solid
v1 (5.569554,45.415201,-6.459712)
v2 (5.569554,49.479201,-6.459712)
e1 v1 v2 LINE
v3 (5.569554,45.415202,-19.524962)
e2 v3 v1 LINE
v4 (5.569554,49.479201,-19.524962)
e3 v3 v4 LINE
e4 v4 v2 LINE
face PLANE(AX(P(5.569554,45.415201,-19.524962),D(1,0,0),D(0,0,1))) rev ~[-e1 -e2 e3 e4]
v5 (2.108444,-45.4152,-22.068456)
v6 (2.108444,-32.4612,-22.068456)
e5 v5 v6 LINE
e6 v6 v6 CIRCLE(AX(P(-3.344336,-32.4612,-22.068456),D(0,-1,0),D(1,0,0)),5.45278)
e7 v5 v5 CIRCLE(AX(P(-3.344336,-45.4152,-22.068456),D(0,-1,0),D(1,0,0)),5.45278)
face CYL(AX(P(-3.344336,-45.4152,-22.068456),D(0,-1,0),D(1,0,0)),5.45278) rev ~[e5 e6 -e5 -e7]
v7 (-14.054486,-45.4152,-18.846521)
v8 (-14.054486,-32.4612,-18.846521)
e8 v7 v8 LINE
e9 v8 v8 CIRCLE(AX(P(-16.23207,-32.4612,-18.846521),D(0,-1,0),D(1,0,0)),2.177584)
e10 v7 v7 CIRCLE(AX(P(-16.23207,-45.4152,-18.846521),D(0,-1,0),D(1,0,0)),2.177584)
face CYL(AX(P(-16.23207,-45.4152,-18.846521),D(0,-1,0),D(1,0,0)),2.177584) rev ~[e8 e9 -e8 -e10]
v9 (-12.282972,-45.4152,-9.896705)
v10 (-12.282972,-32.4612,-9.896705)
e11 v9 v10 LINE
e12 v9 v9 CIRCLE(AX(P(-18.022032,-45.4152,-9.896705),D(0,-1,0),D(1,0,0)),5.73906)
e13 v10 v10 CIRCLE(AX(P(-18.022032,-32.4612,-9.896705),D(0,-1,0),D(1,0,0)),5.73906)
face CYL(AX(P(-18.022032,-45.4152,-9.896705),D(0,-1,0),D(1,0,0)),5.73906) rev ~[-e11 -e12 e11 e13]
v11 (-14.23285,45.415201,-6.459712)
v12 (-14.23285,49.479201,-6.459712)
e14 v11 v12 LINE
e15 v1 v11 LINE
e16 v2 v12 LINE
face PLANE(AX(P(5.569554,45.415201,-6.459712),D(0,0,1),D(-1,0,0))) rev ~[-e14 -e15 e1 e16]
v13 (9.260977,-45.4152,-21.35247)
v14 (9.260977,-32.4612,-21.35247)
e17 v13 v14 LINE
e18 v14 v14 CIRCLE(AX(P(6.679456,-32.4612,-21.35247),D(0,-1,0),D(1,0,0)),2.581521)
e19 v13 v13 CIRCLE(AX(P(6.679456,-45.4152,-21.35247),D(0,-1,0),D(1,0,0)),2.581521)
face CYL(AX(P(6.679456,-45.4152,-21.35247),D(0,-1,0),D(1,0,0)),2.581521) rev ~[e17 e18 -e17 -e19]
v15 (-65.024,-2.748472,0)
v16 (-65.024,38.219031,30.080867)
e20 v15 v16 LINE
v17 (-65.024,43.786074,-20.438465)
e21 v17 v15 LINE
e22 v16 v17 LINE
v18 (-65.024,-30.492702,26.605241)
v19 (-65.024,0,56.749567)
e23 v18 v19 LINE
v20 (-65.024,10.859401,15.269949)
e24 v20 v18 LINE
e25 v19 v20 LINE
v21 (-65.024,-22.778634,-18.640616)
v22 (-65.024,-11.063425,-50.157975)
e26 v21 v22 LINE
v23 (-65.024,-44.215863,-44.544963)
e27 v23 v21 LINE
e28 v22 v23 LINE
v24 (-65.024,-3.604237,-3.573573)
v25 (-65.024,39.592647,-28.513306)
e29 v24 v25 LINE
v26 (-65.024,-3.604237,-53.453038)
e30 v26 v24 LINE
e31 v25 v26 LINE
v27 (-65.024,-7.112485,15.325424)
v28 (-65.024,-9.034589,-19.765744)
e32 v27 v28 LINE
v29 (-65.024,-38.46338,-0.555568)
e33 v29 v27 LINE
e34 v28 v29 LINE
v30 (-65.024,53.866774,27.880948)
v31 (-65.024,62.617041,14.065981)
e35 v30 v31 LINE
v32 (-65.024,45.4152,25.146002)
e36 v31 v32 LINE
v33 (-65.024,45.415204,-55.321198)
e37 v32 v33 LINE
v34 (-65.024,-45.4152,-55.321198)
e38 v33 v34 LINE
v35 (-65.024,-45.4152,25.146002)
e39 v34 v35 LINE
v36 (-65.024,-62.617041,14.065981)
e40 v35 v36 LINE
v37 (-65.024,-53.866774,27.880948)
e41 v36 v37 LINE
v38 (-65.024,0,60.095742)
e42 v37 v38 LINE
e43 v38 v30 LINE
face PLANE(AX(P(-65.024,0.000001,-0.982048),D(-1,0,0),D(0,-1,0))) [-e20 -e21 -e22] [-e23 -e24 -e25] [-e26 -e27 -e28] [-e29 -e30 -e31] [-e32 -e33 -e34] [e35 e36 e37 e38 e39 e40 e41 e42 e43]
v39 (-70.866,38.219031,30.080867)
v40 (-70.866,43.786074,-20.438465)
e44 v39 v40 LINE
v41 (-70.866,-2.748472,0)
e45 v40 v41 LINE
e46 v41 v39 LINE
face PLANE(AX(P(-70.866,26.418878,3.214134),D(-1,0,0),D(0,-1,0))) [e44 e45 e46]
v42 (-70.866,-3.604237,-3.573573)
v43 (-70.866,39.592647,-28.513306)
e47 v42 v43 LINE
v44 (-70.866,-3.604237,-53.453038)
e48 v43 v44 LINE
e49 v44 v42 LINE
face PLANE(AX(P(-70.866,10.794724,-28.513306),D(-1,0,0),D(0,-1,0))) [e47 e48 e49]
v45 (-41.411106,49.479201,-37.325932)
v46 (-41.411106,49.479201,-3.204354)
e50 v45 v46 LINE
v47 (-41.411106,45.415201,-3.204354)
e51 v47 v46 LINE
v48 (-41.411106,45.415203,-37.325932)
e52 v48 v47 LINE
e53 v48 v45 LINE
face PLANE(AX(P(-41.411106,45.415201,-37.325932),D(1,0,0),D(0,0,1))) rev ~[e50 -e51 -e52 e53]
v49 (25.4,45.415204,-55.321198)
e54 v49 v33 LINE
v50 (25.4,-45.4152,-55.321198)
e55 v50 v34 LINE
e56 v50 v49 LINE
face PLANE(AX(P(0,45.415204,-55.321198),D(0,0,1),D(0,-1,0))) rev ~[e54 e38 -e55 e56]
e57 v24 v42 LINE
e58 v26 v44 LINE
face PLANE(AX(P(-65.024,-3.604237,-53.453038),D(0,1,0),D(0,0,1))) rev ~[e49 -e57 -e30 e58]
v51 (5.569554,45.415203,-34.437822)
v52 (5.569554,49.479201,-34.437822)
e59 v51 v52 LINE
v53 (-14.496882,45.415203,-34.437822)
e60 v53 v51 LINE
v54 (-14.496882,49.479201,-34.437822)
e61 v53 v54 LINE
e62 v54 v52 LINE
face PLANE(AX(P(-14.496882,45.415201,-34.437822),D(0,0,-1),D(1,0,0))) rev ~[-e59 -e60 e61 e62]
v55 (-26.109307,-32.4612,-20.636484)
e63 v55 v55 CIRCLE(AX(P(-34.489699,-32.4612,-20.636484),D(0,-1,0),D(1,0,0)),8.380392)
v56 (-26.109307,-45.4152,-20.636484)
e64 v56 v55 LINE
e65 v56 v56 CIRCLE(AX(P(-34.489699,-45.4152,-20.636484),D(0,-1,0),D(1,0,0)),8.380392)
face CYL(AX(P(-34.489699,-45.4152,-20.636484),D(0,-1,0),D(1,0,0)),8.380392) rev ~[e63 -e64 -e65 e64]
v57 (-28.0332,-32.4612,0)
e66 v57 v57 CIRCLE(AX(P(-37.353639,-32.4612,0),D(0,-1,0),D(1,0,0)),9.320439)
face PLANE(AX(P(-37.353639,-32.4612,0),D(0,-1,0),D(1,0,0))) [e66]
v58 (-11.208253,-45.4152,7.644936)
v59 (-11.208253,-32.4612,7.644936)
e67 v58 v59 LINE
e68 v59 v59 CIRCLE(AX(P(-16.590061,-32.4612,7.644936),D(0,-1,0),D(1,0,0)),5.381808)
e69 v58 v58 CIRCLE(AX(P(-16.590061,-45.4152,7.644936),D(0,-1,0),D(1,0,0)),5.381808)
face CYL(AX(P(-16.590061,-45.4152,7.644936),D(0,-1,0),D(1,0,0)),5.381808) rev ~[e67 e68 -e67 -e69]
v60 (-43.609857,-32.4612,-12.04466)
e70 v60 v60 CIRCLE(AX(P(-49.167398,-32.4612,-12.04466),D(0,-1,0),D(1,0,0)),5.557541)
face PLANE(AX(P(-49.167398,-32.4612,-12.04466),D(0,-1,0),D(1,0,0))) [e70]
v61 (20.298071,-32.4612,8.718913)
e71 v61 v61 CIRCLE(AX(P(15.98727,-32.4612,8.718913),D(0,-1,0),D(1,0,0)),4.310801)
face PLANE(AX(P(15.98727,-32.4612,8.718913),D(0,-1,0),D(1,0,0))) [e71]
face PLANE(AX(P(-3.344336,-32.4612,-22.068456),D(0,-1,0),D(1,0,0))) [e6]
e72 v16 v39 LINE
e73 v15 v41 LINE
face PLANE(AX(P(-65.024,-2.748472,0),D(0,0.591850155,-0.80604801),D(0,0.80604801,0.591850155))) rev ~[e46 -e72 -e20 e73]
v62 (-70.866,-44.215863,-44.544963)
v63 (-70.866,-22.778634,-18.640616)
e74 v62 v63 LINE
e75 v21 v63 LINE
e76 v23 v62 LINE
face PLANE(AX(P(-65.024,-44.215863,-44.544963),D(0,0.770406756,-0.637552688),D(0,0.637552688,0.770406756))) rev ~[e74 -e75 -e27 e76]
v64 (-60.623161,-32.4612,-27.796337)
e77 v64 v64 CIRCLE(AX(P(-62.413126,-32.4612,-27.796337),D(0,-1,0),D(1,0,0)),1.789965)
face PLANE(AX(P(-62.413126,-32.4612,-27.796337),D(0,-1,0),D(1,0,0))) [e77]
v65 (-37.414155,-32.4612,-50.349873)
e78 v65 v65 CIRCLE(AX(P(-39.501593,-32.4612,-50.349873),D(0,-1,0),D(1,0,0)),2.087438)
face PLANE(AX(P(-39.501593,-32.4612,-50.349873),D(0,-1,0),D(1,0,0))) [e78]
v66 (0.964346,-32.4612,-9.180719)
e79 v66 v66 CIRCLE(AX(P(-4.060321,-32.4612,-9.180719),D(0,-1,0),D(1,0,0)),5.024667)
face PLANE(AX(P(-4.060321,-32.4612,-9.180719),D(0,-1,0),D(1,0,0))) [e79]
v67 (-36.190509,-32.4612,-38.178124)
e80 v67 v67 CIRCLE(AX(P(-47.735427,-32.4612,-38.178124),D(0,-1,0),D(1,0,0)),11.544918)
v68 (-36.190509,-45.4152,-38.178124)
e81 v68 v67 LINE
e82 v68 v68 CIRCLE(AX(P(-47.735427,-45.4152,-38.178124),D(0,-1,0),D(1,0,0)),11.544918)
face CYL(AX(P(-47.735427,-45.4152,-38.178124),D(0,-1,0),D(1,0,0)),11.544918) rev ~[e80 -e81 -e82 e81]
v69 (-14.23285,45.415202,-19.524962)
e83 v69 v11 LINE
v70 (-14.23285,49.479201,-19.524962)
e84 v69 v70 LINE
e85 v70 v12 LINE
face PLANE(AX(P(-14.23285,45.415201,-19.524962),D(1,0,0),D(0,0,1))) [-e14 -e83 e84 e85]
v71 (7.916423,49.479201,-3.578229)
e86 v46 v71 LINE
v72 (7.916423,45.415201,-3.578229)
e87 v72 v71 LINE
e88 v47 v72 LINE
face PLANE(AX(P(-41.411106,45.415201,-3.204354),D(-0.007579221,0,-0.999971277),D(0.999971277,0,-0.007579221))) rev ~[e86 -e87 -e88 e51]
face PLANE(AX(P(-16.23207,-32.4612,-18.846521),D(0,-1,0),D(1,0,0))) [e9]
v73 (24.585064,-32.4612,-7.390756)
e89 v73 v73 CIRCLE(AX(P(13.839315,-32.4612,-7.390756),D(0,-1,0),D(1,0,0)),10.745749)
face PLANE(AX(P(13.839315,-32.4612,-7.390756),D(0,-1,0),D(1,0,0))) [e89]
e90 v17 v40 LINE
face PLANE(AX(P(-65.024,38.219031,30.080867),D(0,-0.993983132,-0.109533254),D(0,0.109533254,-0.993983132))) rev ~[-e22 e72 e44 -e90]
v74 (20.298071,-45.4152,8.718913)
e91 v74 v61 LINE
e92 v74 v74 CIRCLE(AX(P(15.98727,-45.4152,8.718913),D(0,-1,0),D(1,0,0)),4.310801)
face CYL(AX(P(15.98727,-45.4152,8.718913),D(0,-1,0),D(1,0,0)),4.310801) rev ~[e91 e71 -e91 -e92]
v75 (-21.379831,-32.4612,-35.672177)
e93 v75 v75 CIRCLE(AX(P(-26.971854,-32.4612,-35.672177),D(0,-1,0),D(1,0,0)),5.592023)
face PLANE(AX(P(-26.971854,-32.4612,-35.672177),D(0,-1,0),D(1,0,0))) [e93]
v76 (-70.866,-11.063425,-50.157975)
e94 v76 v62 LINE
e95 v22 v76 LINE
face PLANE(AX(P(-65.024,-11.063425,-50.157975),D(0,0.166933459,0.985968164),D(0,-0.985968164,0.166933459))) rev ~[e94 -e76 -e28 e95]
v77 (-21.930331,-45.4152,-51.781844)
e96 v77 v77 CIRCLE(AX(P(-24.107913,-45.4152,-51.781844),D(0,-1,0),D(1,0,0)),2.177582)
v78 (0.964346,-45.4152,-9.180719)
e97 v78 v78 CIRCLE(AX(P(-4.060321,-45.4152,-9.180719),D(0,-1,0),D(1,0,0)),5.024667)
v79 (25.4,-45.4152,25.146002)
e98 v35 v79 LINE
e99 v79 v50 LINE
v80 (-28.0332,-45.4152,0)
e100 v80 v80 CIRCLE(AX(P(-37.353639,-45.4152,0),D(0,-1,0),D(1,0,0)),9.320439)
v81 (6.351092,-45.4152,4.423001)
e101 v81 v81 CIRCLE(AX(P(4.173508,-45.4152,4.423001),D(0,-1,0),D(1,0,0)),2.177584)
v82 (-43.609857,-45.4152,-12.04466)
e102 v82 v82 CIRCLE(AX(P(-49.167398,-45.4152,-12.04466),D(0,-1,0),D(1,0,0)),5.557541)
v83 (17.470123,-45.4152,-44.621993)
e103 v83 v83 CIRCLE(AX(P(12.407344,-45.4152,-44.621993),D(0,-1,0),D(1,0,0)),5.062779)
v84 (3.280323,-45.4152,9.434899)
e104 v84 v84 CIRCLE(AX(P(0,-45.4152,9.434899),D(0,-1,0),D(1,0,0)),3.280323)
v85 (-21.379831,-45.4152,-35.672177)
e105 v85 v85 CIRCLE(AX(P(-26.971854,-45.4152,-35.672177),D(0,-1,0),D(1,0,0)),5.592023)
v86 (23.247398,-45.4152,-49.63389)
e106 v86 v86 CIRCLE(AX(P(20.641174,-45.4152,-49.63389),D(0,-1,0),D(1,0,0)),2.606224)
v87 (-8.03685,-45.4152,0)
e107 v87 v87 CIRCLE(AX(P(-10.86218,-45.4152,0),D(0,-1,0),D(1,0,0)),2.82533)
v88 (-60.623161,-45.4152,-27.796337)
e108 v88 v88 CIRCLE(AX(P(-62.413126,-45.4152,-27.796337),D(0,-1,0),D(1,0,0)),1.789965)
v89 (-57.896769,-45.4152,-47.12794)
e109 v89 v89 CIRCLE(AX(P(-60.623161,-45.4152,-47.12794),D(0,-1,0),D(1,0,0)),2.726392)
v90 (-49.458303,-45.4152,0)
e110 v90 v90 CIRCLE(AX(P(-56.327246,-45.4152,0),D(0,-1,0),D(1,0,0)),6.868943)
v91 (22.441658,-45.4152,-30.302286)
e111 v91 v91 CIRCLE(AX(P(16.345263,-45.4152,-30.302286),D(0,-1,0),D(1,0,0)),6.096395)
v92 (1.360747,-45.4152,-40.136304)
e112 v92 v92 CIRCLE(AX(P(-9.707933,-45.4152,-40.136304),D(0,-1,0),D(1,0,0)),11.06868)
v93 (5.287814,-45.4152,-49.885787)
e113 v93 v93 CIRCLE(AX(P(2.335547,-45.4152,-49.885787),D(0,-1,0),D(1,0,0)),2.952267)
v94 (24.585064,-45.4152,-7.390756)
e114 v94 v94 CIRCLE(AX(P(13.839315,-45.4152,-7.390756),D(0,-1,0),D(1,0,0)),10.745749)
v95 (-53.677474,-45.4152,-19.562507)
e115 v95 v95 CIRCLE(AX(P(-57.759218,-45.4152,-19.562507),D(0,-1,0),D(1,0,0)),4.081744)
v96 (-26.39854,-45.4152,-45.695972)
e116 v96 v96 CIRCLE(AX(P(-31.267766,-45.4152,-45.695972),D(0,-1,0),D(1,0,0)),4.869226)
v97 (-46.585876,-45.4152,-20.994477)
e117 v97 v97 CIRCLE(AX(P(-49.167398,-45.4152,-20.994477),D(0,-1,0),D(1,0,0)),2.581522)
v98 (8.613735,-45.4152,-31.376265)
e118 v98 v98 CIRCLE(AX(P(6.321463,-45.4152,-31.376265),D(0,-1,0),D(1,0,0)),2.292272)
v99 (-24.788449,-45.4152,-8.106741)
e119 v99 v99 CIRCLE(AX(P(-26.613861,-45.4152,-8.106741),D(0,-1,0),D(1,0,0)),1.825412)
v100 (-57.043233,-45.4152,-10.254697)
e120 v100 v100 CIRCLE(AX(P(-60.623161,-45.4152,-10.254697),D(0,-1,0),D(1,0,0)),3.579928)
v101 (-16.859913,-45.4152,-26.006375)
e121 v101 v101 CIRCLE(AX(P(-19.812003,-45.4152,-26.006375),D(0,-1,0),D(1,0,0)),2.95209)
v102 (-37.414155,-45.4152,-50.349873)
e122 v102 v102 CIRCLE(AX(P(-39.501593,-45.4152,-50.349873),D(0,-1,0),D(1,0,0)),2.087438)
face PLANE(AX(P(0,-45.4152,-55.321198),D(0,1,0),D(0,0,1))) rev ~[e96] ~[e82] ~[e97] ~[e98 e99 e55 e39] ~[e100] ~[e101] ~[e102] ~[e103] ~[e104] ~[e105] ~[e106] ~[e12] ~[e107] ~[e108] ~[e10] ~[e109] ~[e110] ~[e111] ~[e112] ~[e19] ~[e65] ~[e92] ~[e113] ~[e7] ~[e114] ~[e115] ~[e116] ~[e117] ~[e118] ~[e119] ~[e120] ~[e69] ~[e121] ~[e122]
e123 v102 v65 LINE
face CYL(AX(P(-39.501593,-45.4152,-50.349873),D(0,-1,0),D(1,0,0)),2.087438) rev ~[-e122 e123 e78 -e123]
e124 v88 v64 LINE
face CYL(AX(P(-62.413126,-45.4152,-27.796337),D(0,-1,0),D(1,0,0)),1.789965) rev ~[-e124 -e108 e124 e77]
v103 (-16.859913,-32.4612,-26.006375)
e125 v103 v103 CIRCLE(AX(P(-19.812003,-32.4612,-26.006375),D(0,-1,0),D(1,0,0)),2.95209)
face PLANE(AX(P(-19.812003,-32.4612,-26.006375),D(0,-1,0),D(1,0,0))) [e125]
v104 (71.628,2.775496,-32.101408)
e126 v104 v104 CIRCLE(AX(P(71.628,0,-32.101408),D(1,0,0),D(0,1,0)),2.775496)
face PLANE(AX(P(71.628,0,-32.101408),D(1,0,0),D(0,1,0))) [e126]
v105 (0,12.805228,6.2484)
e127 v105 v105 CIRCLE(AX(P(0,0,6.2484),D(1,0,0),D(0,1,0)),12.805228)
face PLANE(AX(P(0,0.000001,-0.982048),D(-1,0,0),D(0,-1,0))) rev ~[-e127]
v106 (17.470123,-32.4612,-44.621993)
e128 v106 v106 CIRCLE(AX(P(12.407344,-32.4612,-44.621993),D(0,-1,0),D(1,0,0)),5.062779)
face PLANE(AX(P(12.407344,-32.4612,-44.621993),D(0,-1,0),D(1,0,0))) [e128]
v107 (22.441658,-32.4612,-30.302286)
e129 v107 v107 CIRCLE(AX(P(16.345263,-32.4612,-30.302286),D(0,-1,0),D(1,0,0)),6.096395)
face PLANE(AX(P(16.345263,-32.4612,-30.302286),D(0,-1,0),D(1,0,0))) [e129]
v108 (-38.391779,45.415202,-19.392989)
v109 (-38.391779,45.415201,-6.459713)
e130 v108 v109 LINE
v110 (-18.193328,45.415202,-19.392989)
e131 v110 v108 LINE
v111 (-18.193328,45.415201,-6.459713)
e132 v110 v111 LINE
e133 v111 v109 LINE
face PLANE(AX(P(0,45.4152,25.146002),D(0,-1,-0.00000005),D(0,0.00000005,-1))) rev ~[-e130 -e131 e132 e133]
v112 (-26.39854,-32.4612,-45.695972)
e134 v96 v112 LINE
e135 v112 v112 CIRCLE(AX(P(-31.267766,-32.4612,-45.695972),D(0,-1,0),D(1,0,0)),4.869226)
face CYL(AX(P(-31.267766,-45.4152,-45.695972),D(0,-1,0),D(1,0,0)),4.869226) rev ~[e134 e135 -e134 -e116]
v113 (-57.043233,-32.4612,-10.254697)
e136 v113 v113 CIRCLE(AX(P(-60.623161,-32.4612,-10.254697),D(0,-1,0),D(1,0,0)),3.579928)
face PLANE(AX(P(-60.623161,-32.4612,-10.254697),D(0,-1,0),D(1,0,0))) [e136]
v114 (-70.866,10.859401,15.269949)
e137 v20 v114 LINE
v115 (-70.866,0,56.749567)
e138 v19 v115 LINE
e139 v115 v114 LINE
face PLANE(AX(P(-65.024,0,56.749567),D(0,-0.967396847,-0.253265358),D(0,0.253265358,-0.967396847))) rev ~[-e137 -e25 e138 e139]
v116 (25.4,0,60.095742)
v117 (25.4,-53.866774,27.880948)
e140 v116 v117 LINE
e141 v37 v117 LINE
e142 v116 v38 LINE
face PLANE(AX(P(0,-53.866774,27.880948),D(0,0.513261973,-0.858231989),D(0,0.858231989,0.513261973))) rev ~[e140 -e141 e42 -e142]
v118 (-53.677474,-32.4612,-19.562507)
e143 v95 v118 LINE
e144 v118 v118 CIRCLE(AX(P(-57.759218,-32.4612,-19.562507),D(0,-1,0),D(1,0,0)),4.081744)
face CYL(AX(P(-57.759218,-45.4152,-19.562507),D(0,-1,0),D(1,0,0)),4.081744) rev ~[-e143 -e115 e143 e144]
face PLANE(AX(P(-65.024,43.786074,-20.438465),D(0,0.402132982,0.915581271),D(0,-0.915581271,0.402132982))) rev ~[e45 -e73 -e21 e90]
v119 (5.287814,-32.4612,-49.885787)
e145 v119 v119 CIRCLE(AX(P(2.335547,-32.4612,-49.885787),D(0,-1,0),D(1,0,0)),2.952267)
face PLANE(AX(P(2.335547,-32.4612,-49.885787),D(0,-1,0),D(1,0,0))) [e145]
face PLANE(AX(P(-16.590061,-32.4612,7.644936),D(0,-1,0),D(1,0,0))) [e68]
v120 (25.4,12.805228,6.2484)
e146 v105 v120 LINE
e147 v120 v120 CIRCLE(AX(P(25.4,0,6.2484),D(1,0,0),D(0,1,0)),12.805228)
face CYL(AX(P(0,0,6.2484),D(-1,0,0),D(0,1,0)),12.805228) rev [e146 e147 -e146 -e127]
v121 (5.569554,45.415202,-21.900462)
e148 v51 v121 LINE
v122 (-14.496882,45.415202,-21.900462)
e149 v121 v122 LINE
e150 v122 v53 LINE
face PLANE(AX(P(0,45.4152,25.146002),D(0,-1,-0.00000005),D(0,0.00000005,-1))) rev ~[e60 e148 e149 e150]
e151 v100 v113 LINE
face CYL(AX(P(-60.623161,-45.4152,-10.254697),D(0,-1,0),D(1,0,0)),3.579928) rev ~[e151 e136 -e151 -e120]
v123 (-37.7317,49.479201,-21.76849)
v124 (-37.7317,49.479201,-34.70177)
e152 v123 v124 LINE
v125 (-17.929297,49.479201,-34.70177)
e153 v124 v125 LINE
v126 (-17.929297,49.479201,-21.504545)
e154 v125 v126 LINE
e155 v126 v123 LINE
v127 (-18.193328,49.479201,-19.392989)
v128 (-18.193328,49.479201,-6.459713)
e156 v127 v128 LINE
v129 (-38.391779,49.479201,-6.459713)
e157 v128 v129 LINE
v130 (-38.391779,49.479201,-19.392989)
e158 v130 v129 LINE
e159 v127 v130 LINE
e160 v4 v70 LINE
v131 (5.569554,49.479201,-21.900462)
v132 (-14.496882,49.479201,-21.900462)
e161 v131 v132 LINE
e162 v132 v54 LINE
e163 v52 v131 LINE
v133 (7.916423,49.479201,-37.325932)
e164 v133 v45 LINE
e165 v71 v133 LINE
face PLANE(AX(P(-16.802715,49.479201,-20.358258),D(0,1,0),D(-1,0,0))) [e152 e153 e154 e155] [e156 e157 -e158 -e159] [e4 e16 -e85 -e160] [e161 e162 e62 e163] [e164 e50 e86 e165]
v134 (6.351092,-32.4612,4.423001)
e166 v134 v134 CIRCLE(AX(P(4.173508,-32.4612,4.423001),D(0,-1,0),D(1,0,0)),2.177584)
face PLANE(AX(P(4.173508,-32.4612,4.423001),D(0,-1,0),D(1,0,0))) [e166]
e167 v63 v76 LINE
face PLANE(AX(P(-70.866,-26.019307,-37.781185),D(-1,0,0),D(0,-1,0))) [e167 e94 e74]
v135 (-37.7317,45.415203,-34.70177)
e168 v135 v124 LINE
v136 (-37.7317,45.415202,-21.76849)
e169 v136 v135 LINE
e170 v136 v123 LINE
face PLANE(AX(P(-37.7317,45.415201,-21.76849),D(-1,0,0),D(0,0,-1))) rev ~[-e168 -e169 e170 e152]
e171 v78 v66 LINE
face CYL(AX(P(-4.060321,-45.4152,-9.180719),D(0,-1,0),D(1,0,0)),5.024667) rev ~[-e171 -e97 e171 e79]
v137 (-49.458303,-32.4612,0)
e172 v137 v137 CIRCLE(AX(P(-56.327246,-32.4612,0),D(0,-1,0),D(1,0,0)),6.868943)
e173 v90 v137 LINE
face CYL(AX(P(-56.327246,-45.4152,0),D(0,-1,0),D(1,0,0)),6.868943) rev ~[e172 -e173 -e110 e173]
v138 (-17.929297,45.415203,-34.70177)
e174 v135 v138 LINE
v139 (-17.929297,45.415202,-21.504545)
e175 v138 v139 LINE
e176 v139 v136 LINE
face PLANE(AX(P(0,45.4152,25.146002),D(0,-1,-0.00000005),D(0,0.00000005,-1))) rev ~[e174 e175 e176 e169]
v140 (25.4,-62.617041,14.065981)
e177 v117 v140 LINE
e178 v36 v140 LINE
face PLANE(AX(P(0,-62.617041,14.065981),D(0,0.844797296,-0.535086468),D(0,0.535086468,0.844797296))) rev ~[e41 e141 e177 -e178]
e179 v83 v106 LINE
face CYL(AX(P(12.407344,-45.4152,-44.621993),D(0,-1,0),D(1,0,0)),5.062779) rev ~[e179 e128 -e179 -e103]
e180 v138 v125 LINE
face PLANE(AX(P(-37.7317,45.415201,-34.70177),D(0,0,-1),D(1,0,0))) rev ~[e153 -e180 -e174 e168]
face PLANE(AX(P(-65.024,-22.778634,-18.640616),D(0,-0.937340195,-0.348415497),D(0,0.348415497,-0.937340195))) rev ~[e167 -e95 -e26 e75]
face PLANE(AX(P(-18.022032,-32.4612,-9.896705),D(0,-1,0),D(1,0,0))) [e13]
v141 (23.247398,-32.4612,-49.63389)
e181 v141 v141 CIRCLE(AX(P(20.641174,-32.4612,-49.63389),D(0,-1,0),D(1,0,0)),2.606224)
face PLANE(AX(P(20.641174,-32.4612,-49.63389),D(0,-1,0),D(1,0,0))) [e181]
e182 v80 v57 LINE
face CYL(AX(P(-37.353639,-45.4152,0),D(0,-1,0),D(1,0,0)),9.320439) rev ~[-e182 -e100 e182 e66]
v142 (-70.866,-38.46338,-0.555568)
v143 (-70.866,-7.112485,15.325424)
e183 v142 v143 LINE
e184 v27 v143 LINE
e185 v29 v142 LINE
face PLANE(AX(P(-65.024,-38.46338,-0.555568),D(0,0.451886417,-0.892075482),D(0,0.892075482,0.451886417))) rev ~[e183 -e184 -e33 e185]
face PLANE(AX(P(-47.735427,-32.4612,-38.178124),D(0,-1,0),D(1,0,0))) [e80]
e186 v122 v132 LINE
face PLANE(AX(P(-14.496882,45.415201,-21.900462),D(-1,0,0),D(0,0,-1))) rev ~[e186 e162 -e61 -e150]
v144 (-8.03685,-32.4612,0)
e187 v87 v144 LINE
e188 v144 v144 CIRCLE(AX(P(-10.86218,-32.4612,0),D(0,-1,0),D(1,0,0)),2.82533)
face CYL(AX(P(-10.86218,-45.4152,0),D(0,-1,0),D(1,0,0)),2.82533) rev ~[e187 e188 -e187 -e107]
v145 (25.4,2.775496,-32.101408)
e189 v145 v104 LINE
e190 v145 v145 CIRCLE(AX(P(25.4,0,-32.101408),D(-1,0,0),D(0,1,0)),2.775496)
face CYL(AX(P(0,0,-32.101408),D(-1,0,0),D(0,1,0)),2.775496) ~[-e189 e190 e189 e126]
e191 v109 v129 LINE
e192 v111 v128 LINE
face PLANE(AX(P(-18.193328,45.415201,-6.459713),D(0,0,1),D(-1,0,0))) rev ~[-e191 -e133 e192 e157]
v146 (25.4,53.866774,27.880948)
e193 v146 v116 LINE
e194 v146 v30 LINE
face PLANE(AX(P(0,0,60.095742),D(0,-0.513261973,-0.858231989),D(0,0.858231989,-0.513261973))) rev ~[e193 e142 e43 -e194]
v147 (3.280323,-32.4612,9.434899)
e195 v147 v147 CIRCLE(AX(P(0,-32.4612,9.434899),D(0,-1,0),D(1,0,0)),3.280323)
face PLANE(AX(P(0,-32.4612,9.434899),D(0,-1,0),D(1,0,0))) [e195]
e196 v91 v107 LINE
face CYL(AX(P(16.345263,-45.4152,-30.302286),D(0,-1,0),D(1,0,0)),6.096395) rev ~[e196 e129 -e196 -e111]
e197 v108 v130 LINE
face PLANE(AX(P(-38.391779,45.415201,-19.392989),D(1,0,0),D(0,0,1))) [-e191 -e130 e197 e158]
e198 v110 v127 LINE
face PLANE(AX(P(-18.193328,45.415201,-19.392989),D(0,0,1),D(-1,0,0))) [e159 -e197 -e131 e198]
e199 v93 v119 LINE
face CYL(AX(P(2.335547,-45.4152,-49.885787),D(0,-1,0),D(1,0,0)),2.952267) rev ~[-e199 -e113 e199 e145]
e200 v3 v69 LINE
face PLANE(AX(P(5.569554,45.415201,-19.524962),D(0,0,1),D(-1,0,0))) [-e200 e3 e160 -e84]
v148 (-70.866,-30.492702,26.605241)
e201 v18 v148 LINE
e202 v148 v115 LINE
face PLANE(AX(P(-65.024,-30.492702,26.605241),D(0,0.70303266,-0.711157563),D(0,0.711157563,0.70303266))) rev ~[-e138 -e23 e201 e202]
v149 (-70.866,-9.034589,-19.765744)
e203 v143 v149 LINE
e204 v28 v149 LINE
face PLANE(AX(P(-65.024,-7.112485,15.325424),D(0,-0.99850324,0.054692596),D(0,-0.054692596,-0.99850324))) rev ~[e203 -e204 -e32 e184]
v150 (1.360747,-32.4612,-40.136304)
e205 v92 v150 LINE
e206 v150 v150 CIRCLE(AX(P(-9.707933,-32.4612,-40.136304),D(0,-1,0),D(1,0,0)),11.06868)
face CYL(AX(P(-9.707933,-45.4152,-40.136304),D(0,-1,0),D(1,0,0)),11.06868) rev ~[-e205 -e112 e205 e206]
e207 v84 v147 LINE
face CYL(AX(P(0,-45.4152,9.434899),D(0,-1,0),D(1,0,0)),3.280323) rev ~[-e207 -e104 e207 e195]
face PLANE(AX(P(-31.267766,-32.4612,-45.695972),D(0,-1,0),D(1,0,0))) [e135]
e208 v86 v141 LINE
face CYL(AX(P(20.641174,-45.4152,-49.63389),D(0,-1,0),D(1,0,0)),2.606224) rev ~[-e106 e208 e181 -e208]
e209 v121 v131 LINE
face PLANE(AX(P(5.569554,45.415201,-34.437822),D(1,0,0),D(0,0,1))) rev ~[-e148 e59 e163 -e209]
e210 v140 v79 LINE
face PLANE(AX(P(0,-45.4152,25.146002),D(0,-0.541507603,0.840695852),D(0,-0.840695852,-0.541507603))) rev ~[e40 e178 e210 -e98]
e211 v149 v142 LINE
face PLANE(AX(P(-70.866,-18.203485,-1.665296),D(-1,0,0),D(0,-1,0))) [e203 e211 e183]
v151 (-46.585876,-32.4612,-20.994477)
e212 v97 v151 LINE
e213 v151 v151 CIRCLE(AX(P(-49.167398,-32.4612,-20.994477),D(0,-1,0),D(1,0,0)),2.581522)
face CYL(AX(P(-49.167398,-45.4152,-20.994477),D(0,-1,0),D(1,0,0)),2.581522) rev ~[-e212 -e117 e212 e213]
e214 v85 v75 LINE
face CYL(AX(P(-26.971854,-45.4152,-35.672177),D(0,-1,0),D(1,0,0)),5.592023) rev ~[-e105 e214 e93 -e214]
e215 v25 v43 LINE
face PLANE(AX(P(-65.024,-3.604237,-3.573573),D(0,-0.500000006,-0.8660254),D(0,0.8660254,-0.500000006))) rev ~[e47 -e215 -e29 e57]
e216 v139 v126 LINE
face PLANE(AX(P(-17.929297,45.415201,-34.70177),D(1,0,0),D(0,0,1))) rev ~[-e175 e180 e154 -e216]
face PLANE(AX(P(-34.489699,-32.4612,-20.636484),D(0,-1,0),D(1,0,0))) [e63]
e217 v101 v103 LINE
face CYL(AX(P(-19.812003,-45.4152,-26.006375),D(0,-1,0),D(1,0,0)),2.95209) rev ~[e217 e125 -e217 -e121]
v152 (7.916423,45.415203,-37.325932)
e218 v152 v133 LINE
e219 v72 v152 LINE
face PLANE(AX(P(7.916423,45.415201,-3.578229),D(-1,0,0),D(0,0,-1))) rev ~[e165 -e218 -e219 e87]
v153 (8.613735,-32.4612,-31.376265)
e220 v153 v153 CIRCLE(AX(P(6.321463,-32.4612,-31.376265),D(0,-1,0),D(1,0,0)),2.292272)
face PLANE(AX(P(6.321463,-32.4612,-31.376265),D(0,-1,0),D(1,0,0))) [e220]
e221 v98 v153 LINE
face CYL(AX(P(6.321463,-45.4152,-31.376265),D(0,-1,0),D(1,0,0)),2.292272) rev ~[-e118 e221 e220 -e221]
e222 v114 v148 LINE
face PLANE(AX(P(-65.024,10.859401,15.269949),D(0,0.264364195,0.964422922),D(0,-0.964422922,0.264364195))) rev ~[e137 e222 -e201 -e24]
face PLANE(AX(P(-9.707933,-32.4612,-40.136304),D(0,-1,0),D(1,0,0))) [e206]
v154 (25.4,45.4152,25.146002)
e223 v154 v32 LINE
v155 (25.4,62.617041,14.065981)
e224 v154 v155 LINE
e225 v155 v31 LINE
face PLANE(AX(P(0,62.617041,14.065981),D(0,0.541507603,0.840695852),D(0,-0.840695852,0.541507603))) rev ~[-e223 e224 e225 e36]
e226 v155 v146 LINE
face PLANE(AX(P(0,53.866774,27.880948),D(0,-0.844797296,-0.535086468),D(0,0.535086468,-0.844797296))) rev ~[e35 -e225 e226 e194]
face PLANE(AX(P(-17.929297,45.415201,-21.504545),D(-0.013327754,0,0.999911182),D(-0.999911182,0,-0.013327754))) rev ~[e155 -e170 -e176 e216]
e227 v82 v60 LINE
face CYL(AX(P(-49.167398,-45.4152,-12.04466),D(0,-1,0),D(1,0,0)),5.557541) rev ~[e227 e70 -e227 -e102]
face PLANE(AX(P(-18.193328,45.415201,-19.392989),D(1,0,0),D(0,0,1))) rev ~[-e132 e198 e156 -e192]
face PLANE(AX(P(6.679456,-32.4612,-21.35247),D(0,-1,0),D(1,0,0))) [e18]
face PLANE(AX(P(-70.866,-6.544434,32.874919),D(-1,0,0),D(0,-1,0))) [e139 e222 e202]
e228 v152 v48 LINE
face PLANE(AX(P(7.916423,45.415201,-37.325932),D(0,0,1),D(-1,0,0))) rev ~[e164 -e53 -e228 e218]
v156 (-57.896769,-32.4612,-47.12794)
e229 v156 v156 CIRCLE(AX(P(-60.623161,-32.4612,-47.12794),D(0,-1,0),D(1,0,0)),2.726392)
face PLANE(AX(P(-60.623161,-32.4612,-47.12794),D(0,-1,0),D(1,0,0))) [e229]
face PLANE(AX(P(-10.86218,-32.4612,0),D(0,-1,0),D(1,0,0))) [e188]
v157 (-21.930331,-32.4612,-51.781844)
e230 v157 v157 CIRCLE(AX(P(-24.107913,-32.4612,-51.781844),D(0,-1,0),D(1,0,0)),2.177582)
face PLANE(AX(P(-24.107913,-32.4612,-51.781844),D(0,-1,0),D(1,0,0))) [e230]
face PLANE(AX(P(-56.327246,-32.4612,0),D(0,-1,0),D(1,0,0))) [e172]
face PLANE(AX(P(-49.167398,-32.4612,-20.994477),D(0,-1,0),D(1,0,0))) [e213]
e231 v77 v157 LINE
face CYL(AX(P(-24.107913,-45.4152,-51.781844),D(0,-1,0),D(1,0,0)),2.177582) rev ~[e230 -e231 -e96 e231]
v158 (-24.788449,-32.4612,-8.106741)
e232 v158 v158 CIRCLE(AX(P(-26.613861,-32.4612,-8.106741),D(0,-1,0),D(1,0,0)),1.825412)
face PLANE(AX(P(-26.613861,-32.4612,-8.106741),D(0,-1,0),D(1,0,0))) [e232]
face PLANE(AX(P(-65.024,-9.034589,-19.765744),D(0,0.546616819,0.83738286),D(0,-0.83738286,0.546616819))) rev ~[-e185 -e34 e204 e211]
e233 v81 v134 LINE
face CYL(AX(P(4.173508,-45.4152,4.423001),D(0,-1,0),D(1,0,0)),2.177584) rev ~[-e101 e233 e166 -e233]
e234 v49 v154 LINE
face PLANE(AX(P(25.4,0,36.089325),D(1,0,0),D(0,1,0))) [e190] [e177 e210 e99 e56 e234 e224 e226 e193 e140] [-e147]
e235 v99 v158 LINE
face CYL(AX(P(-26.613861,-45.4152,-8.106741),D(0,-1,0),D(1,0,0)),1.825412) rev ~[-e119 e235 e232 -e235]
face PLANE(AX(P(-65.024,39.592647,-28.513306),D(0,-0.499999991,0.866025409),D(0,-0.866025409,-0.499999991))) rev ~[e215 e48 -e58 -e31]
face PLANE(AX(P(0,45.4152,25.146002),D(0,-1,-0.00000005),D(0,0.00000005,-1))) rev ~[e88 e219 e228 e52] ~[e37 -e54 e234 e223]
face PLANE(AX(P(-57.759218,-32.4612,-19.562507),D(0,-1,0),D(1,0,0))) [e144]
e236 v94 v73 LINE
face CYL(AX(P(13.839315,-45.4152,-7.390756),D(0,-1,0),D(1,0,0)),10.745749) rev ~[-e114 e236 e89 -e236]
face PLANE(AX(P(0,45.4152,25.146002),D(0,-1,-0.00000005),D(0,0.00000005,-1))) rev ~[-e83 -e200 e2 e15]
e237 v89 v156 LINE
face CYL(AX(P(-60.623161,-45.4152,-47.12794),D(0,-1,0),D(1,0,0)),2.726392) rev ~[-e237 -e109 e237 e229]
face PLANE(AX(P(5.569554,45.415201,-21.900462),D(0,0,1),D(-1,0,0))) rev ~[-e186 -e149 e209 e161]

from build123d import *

# Parameters (mm, degrees)
F0_R      = 12.805228
F1_DEPTH  = 13.462
F2_R      = 2.775496
F3_DEPTH  = 71.628
F4_DEPTH  = 25.4
F5_DEPTH  = 25.4
F7_DEPTH  = 65.024
F8_R      = 11.544918
F8_R_2    = 5.557541
F8_R_3    = 8.380392
F8_R_4    = 9.320439
F8_R_5    = 10.745749
F8_R_6    = 2.177584
F8_R_7    = 5.592023
F8_R_8    = 5.45278
F8_R_9    = 2.581521
F8_R_10   = 2.292272
F8_R_11   = 6.096395
F8_R_12   = 5.062779
F8_R_13   = 2.606224
F8_R_14   = 5.024667
F8_R_15   = 1.825412
F8_R_16   = 5.73906
F8_R_17   = 5.381808
F8_R_18   = 3.280323
F8_R_19   = 4.310801
F8_R_20   = 2.82533
F8_R_21   = 6.868943
F8_R_22   = 3.579928
F8_R_23   = 2.581522
F8_R_24   = 4.081744
F8_R_25   = 4.869226
F8_R_26   = 2.95209
F8_R_27   = 2.177582
F8_R_28   = 2.726392
F8_R_29   = 1.789965
F8_R_30   = 2.087438
F8_R_31   = 11.06868
F8_R_32   = 2.952267
F9_DEPTH  = 12.954
F10_W     = 19.802404
F10_H     = 13.06525
F10_W_2   = 20.198451
F10_H_2   = 12.933277
F11_DEPTH = 4.064
F13_DEPTH = 5.842


with BuildPart() as f1:
    # F0 (on Right) → F1 (new body)
    with BuildSketch(Plane.YZ):
        Polygon((-62.617041, 14.065981), (-45.4152, 25.146002), (0, 50.444398), (45.4152, 25.146002), (62.617041, 14.065981), (53.866774, 27.880948), (0, 60.095742), (-53.866774, 27.880948), align=None)
        Polygon((0, 50.444398), (-45.4152, 25.146002), (-45.4152, -55.321198), (45.415204, -55.321198), (45.4152, 25.146002), align=None)
        with Locations((0, 6.2484)):
            Circle(F0_R, mode=Mode.SUBTRACT)
    extrude(amount=F1_DEPTH)

    # F2 (on Right) → F3 (join)
    with BuildSketch(Plane.YZ):
        with Locations((0, -32.101408)):
            Circle(F2_R)
    extrude(amount=F3_DEPTH)

    # F0 (on Right) → F4 (join)
    with BuildSketch(Plane.YZ):
        Polygon((-62.617041, 14.065981), (-45.4152, 25.146002), (0, 50.444398), (45.4152, 25.146002), (62.617041, 14.065981), (53.866774, 27.880948), (0, 60.095742), (-53.866774, 27.880948), align=None)
        Polygon((0, 50.444398), (-45.4152, 25.146002), (-45.4152, -55.321198), (45.415204, -55.321198), (45.4152, 25.146002), align=None)
        with Locations((0, 6.2484)):
            Circle(F0_R, mode=Mode.SUBTRACT)
    extrude(amount=F4_DEPTH)

    # F0 (on Right) → F5 (join)
    with BuildSketch(Plane.YZ):
        Polygon((-62.617041, 14.065981), (-45.4152, 25.146002), (0, 50.444398), (45.4152, 25.146002), (62.617041, 14.065981), (53.866774, 27.880948), (0, 60.095742), (-53.866774, 27.880948), align=None)
        Polygon((0, 50.444398), (-45.4152, 25.146002), (-45.4152, -55.321198), (45.415204, -55.321198), (45.4152, 25.146002), align=None)
        with Locations((0, 6.2484)):
            Circle(F0_R, mode=Mode.SUBTRACT)
    extrude(amount=F5_DEPTH)

    # F6 (on face) → F7 (join)
    with BuildSketch(Plane(origin=(0, 0, 0), x_dir=(0, -1, 0), z_dir=(-1, 0, 0))):
        Polygon((53.866774, 27.880948), (0, 60.095742), (-53.866774, 27.880948), (-62.617041, 14.065981), (-45.4152, 25.146002), (-45.415204, -55.321198), (45.4152, -55.321198), (45.4152, 25.146002), (62.617041, 14.065981), align=None)
    extrude(amount=F7_DEPTH)

    # F8 (on face) → F9 (cut)
    with BuildSketch(Plane.XZ.offset(45.4152)):
        with Locations((-47.735427, -38.178124)):
            Circle(F8_R)
        with Locations((-49.167398, -12.04466)):
            Circle(F8_R_2)
        with Locations((-34.489699, -20.636484)):
            Circle(F8_R_3)
        with Locations((-37.353639, 0)):
            Circle(F8_R_4)
        with Locations((13.839315, -7.390756)):
            Circle(F8_R_5)
        with Locations((-16.23207, -18.846521)):
            Circle(F8_R_6)
        with Locations((-26.971854, -35.672177)):
            Circle(F8_R_7)
        with Locations((-3.344336, -22.068456)):
            Circle(F8_R_8)
        with Locations((6.679456, -21.35247)):
            Circle(F8_R_9)
        with Locations((6.321463, -31.376265)):
            Circle(F8_R_10)
        with Locations((16.345263, -30.302286)):
            Circle(F8_R_11)
        with Locations((12.407344, -44.621993)):
            Circle(F8_R_12)
        with Locations((20.641174, -49.63389)):
            Circle(F8_R_13)
        with Locations((-4.060321, -9.180719)):
            Circle(F8_R_14)
        with Locations((-26.613861, -8.106741)):
            Circle(F8_R_15)
        with Locations((-18.022032, -9.896705)):
            Circle(F8_R_16)
        with Locations((-16.590061, 7.644936)):
            Circle(F8_R_17)
        with Locations((0, 9.434899)):
            Circle(F8_R_18)
        with Locations((15.98727, 8.718913)):
            Circle(F8_R_19)
        with Locations((4.173508, 4.423001)):
            Circle(F8_R_6)
        with Locations((-10.86218, 0)):
            Circle(F8_R_20)
        with Locations((-56.327246, 0)):
            Circle(F8_R_21)
        with Locations((-60.623161, -10.254697)):
            Circle(F8_R_22)
        with Locations((-49.167398, -20.994477)):
            Circle(F8_R_23)
        with Locations((-57.759218, -19.562507)):
            Circle(F8_R_24)
        with Locations((-31.267766, -45.695972)):
            Circle(F8_R_25)
        with Locations((-19.812003, -26.006375)):
            Circle(F8_R_26)
        with Locations((-24.107913, -51.781844)):
            Circle(F8_R_27)
        with Locations((-60.623161, -47.12794)):
            Circle(F8_R_28)
        with Locations((-62.413126, -27.796337)):
            Circle(F8_R_29)
        with Locations((-39.501593, -50.349873)):
            Circle(F8_R_30)
        with Locations((-9.707933, -40.136304)):
            Circle(F8_R_31)
        with Locations((2.335547, -49.885787)):
            Circle(F8_R_32)
    extrude(amount=-F9_DEPTH, mode=Mode.SUBTRACT)

    # F10 (on face) → F11 (join)
    with BuildSketch(Plane(origin=(0, 45.415201, 2e-06), x_dir=(-1, 0, 0), z_dir=(0, 1, 0))):
        Polygon((41.411106, -3.204356), (-7.916423, -3.578231), (-7.916423, -37.325934), (41.411106, -37.325934), align=None)
        Polygon((-5.569554, -34.437824), (-5.569554, -22.560325), (-5.569554, -21.900464), (14.496882, -21.900464), (14.496882, -23.220185), (14.496882, -34.437824), (13.572769, -34.437824), align=None, mode=Mode.SUBTRACT)
        Polygon((17.929297, -34.701772), (17.929297, -21.504547), (37.7317, -21.768492), (37.7317, -34.701772), align=None, mode=Mode.SUBTRACT)
        with Locations((4.331648, -12.992339)):
            Rectangle(F10_W, F10_H, mode=Mode.SUBTRACT)
        with Locations((28.292554, -12.926353)):
            Rectangle(F10_W_2, F10_H_2, mode=Mode.SUBTRACT)
    extrude(amount=F11_DEPTH)

    # F12 (on face) → F13 (join)
    with BuildSketch(Plane(origin=(-65.024, 0, 0), x_dir=(0, -1, 0), z_dir=(-1, 0, 0))):
        Polygon((-43.786074, -20.438465), (2.748472, 0), (-38.219031, 30.080867), align=None)
        Polygon((3.604237, -53.453038), (3.604237, -3.573573), (-39.592647, -28.513306), align=None)
        Polygon((22.778634, -18.640616), (11.063425, -50.157975), (44.215863, -44.544963), align=None)
        Polygon((9.034589, -19.765744), (38.46338, -0.555568), (7.112485, 15.325424), align=None)
        Polygon((0, 56.749567), (-10.859401, 15.269949), (30.492702, 26.605241), align=None)
    extrude(amount=F13_DEPTH)


solid = f1.part
